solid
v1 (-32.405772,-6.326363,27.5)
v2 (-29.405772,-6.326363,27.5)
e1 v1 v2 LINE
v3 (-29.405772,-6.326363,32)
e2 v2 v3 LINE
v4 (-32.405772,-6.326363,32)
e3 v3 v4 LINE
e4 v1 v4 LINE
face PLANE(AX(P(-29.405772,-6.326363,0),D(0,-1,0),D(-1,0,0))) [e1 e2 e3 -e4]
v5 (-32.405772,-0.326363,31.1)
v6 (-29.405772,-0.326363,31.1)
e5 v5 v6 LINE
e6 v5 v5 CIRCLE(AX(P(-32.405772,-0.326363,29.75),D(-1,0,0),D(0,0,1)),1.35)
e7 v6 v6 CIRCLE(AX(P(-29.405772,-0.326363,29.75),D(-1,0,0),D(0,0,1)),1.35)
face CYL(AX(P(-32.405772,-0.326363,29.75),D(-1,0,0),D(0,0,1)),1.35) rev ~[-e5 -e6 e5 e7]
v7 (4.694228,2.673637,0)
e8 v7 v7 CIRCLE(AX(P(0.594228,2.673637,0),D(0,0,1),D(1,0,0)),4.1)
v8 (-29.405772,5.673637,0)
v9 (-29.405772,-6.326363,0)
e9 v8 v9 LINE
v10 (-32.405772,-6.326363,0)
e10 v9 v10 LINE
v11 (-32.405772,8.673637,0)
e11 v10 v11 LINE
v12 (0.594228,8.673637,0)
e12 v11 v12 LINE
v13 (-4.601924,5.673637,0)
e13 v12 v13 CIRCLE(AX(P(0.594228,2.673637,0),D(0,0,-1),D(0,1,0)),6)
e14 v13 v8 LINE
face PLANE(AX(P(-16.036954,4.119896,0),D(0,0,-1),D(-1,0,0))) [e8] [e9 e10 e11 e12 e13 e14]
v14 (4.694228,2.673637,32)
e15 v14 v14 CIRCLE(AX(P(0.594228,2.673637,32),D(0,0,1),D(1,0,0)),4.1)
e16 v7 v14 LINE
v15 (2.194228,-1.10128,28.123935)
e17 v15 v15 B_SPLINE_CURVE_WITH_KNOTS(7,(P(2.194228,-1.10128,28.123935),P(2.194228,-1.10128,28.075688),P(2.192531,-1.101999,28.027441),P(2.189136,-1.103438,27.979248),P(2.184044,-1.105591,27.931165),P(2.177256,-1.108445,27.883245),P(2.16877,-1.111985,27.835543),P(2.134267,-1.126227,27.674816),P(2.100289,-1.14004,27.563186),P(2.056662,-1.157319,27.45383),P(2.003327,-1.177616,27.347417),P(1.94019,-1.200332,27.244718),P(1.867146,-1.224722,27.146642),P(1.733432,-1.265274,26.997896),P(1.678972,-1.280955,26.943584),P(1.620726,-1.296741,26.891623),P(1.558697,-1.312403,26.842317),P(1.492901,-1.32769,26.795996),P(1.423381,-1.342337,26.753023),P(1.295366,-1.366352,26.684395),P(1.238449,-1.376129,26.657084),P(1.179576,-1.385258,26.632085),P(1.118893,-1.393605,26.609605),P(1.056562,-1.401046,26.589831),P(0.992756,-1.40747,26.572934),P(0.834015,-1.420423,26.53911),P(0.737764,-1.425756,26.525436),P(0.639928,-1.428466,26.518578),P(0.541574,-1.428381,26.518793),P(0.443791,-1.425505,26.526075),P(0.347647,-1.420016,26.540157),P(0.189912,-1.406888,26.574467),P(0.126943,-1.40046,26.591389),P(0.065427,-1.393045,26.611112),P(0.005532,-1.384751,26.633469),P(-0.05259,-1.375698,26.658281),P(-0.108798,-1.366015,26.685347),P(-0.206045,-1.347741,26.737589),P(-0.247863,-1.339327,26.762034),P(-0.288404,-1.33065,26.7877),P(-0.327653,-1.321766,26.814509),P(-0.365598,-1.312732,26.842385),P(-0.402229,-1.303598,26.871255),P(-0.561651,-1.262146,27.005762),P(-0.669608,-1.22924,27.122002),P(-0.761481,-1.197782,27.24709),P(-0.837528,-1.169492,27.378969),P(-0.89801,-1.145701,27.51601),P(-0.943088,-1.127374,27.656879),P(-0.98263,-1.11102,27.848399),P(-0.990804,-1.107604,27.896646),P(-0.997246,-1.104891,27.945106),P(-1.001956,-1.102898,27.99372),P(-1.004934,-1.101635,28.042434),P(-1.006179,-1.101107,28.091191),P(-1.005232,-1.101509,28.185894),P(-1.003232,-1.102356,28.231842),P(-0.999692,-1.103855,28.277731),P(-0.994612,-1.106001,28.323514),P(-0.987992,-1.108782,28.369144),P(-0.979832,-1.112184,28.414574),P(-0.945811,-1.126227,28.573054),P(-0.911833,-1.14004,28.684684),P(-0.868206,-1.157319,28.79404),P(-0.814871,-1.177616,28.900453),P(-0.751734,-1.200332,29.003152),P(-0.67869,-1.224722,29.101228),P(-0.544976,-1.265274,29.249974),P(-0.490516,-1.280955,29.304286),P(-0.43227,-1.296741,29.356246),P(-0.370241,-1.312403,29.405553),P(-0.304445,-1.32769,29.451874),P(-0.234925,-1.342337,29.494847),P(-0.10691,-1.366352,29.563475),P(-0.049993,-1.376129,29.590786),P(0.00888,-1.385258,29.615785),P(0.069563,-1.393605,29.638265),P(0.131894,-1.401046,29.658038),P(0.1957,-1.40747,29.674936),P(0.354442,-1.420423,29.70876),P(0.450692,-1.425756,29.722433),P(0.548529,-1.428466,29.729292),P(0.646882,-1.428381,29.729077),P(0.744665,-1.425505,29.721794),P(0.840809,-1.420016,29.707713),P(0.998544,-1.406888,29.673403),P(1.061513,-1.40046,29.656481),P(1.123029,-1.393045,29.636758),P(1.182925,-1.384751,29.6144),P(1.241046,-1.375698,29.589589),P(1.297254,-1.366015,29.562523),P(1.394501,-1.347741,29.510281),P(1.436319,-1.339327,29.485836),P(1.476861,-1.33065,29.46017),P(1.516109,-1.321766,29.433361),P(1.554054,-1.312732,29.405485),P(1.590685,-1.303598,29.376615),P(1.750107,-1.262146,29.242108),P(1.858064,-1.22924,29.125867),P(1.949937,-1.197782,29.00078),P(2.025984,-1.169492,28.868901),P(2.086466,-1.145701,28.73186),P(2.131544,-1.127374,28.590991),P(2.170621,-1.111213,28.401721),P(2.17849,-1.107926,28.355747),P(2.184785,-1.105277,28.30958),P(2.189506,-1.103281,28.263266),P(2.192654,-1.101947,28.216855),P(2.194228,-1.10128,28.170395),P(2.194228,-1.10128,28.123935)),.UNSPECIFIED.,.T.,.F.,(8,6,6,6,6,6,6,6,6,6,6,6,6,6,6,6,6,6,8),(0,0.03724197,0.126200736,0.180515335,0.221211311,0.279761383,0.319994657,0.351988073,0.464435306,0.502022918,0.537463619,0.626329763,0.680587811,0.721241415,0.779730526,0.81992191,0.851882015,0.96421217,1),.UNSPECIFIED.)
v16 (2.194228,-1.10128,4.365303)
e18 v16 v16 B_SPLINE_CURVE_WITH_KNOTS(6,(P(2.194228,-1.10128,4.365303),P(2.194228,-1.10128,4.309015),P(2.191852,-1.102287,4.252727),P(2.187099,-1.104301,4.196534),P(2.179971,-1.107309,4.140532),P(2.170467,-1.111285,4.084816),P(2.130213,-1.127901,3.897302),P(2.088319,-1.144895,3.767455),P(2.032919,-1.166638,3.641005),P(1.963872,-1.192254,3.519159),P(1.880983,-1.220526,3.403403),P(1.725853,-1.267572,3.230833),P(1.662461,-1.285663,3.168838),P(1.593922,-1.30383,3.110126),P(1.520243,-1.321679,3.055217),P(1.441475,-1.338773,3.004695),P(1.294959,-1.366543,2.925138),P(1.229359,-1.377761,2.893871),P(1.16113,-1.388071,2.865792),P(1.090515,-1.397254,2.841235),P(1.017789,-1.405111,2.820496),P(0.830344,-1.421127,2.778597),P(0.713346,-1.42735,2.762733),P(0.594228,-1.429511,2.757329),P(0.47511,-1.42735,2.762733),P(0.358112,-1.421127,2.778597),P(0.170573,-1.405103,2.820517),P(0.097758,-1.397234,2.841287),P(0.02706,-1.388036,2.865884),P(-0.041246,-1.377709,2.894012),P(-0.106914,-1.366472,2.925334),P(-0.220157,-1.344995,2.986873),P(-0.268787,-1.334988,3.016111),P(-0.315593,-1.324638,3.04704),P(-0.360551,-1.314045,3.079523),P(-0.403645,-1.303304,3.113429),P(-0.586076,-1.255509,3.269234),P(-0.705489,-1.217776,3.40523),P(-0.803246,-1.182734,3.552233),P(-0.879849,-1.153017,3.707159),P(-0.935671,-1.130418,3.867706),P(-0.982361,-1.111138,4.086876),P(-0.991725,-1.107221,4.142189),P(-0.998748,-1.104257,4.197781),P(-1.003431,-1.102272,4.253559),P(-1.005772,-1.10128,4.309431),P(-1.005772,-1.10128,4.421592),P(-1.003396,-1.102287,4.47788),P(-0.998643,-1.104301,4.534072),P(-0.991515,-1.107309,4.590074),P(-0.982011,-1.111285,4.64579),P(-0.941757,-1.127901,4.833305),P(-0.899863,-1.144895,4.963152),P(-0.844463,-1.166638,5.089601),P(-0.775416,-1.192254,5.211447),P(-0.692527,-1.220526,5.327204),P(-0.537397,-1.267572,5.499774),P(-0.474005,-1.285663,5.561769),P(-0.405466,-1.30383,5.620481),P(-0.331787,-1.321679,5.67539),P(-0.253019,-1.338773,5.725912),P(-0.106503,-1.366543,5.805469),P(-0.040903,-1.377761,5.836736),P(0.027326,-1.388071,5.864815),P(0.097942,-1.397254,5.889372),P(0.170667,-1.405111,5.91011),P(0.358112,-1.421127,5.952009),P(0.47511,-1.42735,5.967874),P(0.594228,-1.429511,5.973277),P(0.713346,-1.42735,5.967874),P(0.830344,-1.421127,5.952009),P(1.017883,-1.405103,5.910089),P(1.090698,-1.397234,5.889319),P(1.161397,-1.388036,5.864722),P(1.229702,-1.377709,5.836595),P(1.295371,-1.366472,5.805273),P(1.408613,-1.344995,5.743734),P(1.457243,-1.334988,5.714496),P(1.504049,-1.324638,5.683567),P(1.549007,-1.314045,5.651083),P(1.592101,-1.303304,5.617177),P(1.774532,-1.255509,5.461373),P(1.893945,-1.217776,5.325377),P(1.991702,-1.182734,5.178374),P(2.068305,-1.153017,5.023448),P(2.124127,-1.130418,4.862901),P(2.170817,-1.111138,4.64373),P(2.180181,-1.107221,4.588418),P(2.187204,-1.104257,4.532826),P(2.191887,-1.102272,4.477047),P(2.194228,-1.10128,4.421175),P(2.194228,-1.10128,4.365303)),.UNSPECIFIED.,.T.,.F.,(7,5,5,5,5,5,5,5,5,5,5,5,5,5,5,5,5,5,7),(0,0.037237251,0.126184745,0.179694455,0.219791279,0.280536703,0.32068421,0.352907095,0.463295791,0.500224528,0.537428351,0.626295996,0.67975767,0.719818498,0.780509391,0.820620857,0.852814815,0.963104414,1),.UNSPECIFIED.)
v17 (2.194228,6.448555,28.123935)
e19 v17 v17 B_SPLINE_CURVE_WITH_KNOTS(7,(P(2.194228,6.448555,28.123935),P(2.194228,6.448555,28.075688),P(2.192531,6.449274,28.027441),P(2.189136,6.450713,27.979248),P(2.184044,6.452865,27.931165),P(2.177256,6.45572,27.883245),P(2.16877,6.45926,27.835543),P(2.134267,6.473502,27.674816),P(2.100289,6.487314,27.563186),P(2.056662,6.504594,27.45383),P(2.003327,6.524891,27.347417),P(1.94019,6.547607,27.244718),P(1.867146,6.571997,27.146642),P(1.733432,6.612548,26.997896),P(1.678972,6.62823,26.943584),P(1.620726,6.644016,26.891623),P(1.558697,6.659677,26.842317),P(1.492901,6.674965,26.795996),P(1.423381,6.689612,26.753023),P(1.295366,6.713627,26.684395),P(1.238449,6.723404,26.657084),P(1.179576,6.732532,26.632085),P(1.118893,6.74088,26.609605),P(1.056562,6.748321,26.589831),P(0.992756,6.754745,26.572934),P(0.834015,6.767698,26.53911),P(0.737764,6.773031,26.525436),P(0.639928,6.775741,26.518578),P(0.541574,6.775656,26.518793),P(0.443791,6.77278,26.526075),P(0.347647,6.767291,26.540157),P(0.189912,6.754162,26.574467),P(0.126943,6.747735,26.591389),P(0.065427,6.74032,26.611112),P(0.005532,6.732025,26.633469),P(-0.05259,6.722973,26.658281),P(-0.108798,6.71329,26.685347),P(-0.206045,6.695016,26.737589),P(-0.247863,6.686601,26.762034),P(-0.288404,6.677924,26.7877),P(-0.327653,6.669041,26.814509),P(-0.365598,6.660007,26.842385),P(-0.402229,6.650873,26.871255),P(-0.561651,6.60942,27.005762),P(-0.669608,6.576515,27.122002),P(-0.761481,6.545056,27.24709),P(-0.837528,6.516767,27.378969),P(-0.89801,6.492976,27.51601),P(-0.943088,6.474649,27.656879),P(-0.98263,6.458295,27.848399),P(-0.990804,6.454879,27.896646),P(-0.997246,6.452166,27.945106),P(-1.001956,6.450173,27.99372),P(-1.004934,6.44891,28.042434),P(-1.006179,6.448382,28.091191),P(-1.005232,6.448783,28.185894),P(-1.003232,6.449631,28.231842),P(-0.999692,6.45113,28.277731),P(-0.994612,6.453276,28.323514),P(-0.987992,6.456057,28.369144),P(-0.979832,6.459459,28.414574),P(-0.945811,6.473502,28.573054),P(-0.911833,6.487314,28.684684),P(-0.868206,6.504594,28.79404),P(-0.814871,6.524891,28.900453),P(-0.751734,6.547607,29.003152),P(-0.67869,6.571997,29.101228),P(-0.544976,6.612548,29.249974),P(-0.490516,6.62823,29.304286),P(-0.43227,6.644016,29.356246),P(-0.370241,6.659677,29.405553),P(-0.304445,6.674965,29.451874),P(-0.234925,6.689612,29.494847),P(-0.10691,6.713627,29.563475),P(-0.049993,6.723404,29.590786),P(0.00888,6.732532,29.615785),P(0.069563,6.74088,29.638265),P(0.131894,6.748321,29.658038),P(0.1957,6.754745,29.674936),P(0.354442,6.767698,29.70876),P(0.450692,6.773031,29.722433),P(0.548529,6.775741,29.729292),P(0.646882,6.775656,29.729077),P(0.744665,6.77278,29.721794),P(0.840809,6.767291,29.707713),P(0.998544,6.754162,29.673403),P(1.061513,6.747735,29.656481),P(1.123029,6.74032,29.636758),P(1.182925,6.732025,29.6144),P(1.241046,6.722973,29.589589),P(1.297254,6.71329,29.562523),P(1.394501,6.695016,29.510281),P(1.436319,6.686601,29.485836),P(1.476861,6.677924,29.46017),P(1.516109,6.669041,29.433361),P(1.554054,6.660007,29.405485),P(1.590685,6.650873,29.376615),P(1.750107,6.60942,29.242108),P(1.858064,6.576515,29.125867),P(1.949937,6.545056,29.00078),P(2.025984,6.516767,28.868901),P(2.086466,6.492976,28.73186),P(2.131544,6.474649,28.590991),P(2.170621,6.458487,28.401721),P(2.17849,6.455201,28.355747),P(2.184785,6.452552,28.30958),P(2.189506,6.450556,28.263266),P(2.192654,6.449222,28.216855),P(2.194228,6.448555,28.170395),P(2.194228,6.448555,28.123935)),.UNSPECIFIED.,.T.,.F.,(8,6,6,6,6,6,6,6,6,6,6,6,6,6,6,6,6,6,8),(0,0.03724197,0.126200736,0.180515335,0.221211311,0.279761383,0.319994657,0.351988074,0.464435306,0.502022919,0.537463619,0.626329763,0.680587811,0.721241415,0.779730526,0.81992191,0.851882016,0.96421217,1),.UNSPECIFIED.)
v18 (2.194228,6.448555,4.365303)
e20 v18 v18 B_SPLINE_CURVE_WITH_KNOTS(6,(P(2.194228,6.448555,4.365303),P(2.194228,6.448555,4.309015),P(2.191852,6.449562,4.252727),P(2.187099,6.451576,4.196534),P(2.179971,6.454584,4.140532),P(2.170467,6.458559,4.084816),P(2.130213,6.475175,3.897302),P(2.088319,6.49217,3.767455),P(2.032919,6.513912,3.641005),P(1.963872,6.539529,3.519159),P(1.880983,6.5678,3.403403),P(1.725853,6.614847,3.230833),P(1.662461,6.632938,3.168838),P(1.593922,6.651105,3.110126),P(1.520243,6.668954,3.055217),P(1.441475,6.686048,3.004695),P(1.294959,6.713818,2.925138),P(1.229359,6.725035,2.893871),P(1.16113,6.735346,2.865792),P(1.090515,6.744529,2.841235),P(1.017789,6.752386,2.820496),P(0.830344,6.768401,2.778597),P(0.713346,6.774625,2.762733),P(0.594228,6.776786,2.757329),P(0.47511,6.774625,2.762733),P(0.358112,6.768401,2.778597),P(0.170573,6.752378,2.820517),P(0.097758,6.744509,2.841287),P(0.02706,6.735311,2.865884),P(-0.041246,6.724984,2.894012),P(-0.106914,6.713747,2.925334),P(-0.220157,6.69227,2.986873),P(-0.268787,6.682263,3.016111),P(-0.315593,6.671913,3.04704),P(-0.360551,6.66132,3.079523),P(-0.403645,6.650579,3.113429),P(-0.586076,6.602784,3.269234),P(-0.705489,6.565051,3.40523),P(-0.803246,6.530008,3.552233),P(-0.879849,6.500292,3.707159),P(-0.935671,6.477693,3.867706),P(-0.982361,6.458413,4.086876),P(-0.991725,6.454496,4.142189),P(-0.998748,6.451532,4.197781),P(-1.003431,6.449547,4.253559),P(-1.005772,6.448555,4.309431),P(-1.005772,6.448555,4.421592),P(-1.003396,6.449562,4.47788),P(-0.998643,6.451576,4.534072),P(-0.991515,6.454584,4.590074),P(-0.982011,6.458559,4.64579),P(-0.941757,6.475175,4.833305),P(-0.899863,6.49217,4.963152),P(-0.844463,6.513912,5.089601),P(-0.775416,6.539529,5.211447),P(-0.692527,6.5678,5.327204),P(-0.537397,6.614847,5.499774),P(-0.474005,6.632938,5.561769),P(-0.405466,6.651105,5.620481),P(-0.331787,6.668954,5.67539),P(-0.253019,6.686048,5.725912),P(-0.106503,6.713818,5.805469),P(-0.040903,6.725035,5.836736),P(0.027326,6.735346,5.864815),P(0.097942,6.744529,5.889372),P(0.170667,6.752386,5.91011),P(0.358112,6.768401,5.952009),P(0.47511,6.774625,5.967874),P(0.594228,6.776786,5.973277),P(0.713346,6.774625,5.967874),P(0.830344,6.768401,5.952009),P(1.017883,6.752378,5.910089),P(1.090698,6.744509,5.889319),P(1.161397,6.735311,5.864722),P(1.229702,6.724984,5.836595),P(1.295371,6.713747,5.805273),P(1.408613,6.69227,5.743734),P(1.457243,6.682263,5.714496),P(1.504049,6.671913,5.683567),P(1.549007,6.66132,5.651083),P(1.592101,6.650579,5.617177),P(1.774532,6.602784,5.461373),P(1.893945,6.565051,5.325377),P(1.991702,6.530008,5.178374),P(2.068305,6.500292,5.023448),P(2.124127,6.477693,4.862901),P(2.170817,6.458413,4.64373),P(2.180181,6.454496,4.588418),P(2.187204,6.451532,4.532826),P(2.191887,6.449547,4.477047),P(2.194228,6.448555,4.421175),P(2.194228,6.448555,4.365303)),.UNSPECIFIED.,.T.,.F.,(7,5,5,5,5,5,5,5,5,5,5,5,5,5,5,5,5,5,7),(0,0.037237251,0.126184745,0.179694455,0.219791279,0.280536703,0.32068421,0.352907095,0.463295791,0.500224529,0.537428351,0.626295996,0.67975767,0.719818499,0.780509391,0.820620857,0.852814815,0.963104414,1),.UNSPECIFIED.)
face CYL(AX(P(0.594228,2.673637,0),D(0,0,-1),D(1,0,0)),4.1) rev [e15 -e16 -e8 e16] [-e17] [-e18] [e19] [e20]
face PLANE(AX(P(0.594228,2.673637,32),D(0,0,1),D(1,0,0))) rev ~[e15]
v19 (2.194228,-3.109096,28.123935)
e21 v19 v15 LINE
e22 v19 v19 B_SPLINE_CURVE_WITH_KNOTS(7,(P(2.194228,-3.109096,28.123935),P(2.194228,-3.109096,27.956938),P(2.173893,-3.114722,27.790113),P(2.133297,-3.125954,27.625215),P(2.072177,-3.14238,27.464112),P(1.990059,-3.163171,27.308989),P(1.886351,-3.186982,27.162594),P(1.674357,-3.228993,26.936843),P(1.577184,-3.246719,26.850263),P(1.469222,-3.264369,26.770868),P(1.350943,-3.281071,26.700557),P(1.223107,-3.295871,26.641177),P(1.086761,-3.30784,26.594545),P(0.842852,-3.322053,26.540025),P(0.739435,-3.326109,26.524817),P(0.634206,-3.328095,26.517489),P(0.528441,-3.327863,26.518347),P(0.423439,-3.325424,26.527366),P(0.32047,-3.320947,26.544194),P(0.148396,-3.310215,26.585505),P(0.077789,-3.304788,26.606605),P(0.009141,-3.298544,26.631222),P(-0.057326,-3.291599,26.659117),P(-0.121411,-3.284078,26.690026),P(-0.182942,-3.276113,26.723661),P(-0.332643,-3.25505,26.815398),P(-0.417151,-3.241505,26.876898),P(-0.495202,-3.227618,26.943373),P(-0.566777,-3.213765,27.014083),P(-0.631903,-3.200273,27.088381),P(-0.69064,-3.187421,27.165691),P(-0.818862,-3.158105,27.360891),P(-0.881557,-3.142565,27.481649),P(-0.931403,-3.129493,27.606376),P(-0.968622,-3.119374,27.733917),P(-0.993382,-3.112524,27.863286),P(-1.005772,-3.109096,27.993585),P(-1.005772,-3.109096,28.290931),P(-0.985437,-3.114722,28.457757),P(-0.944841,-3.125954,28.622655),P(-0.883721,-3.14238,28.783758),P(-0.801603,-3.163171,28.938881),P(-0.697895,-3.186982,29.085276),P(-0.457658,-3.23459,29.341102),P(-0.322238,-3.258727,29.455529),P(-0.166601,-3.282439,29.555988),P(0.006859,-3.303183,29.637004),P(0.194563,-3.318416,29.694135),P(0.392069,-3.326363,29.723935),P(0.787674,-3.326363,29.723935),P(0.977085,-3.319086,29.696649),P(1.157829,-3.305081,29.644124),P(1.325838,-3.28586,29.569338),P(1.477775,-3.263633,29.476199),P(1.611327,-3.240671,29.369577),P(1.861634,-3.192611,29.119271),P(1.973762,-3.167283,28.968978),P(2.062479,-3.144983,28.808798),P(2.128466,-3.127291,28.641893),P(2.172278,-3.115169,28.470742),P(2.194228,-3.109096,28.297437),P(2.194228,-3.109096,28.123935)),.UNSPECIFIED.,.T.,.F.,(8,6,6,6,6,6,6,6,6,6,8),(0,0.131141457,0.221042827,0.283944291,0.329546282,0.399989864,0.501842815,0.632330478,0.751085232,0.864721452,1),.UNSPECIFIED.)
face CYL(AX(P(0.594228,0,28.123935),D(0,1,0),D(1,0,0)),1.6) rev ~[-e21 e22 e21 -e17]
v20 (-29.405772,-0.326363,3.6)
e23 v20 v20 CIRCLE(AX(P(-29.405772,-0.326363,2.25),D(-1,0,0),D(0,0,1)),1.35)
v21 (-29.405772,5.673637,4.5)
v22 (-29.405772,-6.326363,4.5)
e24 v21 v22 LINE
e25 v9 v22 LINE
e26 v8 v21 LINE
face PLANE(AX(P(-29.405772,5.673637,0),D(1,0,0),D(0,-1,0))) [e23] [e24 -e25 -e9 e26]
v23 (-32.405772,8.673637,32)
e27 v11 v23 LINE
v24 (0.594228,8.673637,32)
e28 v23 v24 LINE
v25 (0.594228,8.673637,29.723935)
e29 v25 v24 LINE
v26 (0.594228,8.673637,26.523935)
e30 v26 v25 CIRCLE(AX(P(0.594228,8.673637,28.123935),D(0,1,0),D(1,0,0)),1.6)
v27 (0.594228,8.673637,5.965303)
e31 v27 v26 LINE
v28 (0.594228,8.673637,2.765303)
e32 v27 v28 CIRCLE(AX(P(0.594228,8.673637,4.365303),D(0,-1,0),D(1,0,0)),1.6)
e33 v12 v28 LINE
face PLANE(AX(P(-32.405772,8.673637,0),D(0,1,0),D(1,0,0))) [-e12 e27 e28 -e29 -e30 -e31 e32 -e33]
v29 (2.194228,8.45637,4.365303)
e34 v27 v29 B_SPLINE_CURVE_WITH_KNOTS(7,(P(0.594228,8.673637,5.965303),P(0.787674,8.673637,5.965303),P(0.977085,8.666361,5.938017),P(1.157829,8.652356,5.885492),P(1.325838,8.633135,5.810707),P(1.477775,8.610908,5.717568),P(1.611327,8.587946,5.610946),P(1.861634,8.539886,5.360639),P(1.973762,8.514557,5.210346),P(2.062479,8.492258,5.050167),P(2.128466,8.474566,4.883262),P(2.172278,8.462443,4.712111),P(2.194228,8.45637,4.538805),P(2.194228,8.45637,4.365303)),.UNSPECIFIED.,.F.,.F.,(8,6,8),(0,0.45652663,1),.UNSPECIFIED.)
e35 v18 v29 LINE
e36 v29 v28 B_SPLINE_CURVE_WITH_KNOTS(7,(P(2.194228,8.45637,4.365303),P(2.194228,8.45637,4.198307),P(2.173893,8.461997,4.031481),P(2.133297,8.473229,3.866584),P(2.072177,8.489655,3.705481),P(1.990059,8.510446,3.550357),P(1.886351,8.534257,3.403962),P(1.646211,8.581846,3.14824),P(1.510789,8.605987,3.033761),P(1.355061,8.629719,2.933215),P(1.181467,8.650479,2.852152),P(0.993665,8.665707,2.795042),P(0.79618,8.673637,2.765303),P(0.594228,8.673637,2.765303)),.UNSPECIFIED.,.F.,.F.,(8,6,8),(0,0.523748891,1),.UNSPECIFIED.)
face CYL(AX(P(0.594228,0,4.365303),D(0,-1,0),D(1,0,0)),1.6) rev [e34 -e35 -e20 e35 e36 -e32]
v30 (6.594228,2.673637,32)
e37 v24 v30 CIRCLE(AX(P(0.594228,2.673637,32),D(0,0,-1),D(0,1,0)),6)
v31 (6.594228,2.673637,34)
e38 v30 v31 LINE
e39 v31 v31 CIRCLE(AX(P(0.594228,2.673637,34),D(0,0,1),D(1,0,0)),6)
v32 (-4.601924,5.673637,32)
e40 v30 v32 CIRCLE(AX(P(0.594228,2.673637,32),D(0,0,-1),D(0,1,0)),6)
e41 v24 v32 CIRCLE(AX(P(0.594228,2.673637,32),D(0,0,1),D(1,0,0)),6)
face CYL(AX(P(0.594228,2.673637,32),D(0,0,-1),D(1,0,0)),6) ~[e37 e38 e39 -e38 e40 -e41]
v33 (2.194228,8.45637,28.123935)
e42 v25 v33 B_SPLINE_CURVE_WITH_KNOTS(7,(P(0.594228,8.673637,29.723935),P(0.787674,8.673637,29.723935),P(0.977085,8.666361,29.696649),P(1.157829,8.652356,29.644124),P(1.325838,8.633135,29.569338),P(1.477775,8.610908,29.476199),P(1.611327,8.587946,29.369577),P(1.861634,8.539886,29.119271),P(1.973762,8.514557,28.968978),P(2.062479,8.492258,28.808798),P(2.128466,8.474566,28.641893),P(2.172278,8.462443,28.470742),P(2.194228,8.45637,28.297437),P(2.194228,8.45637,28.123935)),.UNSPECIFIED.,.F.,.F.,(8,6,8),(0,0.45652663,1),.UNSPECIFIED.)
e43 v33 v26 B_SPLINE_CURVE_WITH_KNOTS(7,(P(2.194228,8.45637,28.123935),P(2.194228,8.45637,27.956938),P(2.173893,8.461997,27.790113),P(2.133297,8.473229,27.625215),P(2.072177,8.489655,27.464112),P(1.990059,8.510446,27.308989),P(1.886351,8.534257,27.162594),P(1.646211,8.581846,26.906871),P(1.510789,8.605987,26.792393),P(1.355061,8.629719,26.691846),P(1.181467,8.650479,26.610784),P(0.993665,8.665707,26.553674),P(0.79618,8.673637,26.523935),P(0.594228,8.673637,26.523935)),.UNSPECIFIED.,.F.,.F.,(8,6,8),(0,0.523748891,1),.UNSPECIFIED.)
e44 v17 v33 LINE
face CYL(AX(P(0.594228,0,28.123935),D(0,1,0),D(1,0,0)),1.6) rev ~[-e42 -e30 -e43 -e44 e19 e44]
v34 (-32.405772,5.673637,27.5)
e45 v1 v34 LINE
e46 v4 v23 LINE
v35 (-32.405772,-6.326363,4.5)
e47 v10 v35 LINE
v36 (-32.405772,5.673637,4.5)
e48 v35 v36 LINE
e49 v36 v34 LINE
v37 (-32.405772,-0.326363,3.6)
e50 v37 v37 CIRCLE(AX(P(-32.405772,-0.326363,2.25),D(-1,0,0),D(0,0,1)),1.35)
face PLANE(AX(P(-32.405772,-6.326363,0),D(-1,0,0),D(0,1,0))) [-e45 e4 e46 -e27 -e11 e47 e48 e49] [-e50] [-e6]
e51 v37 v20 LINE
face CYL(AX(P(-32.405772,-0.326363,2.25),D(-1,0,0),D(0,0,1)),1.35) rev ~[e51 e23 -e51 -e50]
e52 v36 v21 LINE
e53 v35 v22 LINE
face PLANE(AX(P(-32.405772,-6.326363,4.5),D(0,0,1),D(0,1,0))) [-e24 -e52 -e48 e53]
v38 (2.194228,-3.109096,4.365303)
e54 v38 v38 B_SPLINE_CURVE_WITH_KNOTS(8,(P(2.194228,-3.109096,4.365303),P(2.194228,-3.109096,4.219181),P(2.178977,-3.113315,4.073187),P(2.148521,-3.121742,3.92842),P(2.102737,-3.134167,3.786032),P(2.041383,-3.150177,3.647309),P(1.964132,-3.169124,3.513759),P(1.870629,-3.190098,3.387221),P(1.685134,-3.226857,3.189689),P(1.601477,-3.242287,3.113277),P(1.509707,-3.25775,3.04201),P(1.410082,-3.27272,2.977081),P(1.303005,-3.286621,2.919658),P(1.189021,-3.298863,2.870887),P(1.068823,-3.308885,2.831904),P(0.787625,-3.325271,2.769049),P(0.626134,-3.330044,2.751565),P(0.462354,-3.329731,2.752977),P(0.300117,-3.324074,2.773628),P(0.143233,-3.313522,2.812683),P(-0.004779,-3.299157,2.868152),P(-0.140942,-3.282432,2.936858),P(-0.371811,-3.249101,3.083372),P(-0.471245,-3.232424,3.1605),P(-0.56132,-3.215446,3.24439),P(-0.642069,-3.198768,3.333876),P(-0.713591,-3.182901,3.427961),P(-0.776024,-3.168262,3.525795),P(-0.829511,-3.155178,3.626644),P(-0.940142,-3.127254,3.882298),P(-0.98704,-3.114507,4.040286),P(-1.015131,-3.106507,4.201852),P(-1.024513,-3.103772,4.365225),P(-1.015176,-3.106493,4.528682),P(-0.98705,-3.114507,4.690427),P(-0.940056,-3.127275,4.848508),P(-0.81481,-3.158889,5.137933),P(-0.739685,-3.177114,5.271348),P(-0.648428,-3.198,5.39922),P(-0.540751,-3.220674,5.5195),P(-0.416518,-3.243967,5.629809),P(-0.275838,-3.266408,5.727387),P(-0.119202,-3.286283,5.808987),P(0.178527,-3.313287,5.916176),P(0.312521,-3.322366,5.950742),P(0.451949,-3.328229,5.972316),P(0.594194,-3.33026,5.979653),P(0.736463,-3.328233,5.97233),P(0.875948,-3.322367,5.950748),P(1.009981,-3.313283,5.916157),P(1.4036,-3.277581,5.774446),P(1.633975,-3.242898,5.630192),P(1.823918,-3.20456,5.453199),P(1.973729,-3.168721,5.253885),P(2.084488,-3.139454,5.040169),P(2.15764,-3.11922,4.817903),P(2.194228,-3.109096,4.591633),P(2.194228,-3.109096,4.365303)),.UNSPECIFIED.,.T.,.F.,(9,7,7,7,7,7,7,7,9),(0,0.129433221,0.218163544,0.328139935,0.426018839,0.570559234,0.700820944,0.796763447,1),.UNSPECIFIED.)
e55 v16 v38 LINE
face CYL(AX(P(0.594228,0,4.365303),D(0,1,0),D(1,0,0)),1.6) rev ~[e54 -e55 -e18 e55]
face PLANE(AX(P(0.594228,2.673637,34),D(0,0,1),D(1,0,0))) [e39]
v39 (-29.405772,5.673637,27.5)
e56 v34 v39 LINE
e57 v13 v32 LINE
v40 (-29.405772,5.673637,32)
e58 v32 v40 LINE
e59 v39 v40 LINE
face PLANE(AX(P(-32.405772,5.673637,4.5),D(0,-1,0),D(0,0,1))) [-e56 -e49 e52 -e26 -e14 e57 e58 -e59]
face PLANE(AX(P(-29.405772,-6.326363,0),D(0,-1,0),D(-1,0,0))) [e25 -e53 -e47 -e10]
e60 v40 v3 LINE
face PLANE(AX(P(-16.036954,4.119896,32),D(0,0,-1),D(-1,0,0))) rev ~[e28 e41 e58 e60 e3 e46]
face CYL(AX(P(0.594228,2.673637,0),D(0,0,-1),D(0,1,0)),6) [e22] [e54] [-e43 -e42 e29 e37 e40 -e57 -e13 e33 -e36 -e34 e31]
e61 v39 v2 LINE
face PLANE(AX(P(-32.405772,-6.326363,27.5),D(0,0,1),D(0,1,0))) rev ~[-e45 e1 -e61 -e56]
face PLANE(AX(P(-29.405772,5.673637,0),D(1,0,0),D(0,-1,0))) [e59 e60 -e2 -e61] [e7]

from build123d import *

# Parameters (mm, degrees)
SKETCH_1_R          = 4.1
EXTRUDE_1_DEPTH     = 32
SKETCH_3_R          = 1.35
SKETCH_3_W          = 23
SKETCH_3_H          = 12
CUT_EXTRUDE_1_DEPTH = 5
SKETCH_4_R          = 1.6
CUT_EXTRUDE_2_DEPTH = 10
SKETCH_5_R          = 6
EXTRUDE_2_DEPTH     = 2


with BuildPart() as part:
    # 草图1 → 凸台-拉伸1 (new body)
    with BuildSketch(Plane.XY):
        with BuildLine():
            Line((-32.405771928, 8.673637409), (-5.405771928, 8.673637409))
            Line((-5.405771928, 8.673637409), (0.594228072, 8.673637409))
            ThreePointArc((0.594228072, 8.673637409), (3.594228072, -2.522515014), (-4.601924351, 5.673637409))
            Line((-4.601924351, 5.673637409), (-29.405771928, 5.673637409))
            Line((-29.405771928, 5.673637409), (-29.405771928, -6.326362591))
            Line((-29.405771928, -6.326362591), (-32.405771928, -6.326362591))
            Line((-32.405771928, -6.326362591), (-32.405771928, 5.673637409))
            Line((-32.405771928, 5.673637409), (-32.405771928, 8.673637409))
        make_face()
        with Locations((0.594228072, 2.673637409)):
            Circle(SKETCH_1_R, mode=Mode.SUBTRACT)
    extrude(amount=EXTRUDE_1_DEPTH)

    # 草图3 → 切除-拉伸1 (cut)
    with BuildSketch(Plane.ZY.offset(32.405771928)):
        with Locations((29.75, -0.326362591)):
            Circle(SKETCH_3_R)
        with Locations((2.25, -0.326362591)):
            Circle(SKETCH_3_R)
        with Locations((16, -0.326362591)):
            Rectangle(SKETCH_3_W, SKETCH_3_H)
    extrude(amount=-CUT_EXTRUDE_1_DEPTH, mode=Mode.SUBTRACT)

    # 草图4 → 切除-拉伸2 (cut, symmetric)
    with BuildSketch(Plane(origin=(0, 0, 0), x_dir=(1, 0, 0), z_dir=(0, 1, 0))):
        with Locations((0.594228072, -4.365303353)):
            Circle(SKETCH_4_R)
        with Locations((0.594228072, -28.123934877)):
            Circle(SKETCH_4_R)
    extrude(amount=CUT_EXTRUDE_2_DEPTH, both=True, mode=Mode.SUBTRACT)

    # 草图5 → 凸台-拉伸2 (add)
    with BuildSketch(Plane.XY.offset(32)):
        with Locations((0.594228072, 2.673637409)):
            Circle(SKETCH_5_R)
    extrude(amount=EXTRUDE_2_DEPTH)


solid = part.part
